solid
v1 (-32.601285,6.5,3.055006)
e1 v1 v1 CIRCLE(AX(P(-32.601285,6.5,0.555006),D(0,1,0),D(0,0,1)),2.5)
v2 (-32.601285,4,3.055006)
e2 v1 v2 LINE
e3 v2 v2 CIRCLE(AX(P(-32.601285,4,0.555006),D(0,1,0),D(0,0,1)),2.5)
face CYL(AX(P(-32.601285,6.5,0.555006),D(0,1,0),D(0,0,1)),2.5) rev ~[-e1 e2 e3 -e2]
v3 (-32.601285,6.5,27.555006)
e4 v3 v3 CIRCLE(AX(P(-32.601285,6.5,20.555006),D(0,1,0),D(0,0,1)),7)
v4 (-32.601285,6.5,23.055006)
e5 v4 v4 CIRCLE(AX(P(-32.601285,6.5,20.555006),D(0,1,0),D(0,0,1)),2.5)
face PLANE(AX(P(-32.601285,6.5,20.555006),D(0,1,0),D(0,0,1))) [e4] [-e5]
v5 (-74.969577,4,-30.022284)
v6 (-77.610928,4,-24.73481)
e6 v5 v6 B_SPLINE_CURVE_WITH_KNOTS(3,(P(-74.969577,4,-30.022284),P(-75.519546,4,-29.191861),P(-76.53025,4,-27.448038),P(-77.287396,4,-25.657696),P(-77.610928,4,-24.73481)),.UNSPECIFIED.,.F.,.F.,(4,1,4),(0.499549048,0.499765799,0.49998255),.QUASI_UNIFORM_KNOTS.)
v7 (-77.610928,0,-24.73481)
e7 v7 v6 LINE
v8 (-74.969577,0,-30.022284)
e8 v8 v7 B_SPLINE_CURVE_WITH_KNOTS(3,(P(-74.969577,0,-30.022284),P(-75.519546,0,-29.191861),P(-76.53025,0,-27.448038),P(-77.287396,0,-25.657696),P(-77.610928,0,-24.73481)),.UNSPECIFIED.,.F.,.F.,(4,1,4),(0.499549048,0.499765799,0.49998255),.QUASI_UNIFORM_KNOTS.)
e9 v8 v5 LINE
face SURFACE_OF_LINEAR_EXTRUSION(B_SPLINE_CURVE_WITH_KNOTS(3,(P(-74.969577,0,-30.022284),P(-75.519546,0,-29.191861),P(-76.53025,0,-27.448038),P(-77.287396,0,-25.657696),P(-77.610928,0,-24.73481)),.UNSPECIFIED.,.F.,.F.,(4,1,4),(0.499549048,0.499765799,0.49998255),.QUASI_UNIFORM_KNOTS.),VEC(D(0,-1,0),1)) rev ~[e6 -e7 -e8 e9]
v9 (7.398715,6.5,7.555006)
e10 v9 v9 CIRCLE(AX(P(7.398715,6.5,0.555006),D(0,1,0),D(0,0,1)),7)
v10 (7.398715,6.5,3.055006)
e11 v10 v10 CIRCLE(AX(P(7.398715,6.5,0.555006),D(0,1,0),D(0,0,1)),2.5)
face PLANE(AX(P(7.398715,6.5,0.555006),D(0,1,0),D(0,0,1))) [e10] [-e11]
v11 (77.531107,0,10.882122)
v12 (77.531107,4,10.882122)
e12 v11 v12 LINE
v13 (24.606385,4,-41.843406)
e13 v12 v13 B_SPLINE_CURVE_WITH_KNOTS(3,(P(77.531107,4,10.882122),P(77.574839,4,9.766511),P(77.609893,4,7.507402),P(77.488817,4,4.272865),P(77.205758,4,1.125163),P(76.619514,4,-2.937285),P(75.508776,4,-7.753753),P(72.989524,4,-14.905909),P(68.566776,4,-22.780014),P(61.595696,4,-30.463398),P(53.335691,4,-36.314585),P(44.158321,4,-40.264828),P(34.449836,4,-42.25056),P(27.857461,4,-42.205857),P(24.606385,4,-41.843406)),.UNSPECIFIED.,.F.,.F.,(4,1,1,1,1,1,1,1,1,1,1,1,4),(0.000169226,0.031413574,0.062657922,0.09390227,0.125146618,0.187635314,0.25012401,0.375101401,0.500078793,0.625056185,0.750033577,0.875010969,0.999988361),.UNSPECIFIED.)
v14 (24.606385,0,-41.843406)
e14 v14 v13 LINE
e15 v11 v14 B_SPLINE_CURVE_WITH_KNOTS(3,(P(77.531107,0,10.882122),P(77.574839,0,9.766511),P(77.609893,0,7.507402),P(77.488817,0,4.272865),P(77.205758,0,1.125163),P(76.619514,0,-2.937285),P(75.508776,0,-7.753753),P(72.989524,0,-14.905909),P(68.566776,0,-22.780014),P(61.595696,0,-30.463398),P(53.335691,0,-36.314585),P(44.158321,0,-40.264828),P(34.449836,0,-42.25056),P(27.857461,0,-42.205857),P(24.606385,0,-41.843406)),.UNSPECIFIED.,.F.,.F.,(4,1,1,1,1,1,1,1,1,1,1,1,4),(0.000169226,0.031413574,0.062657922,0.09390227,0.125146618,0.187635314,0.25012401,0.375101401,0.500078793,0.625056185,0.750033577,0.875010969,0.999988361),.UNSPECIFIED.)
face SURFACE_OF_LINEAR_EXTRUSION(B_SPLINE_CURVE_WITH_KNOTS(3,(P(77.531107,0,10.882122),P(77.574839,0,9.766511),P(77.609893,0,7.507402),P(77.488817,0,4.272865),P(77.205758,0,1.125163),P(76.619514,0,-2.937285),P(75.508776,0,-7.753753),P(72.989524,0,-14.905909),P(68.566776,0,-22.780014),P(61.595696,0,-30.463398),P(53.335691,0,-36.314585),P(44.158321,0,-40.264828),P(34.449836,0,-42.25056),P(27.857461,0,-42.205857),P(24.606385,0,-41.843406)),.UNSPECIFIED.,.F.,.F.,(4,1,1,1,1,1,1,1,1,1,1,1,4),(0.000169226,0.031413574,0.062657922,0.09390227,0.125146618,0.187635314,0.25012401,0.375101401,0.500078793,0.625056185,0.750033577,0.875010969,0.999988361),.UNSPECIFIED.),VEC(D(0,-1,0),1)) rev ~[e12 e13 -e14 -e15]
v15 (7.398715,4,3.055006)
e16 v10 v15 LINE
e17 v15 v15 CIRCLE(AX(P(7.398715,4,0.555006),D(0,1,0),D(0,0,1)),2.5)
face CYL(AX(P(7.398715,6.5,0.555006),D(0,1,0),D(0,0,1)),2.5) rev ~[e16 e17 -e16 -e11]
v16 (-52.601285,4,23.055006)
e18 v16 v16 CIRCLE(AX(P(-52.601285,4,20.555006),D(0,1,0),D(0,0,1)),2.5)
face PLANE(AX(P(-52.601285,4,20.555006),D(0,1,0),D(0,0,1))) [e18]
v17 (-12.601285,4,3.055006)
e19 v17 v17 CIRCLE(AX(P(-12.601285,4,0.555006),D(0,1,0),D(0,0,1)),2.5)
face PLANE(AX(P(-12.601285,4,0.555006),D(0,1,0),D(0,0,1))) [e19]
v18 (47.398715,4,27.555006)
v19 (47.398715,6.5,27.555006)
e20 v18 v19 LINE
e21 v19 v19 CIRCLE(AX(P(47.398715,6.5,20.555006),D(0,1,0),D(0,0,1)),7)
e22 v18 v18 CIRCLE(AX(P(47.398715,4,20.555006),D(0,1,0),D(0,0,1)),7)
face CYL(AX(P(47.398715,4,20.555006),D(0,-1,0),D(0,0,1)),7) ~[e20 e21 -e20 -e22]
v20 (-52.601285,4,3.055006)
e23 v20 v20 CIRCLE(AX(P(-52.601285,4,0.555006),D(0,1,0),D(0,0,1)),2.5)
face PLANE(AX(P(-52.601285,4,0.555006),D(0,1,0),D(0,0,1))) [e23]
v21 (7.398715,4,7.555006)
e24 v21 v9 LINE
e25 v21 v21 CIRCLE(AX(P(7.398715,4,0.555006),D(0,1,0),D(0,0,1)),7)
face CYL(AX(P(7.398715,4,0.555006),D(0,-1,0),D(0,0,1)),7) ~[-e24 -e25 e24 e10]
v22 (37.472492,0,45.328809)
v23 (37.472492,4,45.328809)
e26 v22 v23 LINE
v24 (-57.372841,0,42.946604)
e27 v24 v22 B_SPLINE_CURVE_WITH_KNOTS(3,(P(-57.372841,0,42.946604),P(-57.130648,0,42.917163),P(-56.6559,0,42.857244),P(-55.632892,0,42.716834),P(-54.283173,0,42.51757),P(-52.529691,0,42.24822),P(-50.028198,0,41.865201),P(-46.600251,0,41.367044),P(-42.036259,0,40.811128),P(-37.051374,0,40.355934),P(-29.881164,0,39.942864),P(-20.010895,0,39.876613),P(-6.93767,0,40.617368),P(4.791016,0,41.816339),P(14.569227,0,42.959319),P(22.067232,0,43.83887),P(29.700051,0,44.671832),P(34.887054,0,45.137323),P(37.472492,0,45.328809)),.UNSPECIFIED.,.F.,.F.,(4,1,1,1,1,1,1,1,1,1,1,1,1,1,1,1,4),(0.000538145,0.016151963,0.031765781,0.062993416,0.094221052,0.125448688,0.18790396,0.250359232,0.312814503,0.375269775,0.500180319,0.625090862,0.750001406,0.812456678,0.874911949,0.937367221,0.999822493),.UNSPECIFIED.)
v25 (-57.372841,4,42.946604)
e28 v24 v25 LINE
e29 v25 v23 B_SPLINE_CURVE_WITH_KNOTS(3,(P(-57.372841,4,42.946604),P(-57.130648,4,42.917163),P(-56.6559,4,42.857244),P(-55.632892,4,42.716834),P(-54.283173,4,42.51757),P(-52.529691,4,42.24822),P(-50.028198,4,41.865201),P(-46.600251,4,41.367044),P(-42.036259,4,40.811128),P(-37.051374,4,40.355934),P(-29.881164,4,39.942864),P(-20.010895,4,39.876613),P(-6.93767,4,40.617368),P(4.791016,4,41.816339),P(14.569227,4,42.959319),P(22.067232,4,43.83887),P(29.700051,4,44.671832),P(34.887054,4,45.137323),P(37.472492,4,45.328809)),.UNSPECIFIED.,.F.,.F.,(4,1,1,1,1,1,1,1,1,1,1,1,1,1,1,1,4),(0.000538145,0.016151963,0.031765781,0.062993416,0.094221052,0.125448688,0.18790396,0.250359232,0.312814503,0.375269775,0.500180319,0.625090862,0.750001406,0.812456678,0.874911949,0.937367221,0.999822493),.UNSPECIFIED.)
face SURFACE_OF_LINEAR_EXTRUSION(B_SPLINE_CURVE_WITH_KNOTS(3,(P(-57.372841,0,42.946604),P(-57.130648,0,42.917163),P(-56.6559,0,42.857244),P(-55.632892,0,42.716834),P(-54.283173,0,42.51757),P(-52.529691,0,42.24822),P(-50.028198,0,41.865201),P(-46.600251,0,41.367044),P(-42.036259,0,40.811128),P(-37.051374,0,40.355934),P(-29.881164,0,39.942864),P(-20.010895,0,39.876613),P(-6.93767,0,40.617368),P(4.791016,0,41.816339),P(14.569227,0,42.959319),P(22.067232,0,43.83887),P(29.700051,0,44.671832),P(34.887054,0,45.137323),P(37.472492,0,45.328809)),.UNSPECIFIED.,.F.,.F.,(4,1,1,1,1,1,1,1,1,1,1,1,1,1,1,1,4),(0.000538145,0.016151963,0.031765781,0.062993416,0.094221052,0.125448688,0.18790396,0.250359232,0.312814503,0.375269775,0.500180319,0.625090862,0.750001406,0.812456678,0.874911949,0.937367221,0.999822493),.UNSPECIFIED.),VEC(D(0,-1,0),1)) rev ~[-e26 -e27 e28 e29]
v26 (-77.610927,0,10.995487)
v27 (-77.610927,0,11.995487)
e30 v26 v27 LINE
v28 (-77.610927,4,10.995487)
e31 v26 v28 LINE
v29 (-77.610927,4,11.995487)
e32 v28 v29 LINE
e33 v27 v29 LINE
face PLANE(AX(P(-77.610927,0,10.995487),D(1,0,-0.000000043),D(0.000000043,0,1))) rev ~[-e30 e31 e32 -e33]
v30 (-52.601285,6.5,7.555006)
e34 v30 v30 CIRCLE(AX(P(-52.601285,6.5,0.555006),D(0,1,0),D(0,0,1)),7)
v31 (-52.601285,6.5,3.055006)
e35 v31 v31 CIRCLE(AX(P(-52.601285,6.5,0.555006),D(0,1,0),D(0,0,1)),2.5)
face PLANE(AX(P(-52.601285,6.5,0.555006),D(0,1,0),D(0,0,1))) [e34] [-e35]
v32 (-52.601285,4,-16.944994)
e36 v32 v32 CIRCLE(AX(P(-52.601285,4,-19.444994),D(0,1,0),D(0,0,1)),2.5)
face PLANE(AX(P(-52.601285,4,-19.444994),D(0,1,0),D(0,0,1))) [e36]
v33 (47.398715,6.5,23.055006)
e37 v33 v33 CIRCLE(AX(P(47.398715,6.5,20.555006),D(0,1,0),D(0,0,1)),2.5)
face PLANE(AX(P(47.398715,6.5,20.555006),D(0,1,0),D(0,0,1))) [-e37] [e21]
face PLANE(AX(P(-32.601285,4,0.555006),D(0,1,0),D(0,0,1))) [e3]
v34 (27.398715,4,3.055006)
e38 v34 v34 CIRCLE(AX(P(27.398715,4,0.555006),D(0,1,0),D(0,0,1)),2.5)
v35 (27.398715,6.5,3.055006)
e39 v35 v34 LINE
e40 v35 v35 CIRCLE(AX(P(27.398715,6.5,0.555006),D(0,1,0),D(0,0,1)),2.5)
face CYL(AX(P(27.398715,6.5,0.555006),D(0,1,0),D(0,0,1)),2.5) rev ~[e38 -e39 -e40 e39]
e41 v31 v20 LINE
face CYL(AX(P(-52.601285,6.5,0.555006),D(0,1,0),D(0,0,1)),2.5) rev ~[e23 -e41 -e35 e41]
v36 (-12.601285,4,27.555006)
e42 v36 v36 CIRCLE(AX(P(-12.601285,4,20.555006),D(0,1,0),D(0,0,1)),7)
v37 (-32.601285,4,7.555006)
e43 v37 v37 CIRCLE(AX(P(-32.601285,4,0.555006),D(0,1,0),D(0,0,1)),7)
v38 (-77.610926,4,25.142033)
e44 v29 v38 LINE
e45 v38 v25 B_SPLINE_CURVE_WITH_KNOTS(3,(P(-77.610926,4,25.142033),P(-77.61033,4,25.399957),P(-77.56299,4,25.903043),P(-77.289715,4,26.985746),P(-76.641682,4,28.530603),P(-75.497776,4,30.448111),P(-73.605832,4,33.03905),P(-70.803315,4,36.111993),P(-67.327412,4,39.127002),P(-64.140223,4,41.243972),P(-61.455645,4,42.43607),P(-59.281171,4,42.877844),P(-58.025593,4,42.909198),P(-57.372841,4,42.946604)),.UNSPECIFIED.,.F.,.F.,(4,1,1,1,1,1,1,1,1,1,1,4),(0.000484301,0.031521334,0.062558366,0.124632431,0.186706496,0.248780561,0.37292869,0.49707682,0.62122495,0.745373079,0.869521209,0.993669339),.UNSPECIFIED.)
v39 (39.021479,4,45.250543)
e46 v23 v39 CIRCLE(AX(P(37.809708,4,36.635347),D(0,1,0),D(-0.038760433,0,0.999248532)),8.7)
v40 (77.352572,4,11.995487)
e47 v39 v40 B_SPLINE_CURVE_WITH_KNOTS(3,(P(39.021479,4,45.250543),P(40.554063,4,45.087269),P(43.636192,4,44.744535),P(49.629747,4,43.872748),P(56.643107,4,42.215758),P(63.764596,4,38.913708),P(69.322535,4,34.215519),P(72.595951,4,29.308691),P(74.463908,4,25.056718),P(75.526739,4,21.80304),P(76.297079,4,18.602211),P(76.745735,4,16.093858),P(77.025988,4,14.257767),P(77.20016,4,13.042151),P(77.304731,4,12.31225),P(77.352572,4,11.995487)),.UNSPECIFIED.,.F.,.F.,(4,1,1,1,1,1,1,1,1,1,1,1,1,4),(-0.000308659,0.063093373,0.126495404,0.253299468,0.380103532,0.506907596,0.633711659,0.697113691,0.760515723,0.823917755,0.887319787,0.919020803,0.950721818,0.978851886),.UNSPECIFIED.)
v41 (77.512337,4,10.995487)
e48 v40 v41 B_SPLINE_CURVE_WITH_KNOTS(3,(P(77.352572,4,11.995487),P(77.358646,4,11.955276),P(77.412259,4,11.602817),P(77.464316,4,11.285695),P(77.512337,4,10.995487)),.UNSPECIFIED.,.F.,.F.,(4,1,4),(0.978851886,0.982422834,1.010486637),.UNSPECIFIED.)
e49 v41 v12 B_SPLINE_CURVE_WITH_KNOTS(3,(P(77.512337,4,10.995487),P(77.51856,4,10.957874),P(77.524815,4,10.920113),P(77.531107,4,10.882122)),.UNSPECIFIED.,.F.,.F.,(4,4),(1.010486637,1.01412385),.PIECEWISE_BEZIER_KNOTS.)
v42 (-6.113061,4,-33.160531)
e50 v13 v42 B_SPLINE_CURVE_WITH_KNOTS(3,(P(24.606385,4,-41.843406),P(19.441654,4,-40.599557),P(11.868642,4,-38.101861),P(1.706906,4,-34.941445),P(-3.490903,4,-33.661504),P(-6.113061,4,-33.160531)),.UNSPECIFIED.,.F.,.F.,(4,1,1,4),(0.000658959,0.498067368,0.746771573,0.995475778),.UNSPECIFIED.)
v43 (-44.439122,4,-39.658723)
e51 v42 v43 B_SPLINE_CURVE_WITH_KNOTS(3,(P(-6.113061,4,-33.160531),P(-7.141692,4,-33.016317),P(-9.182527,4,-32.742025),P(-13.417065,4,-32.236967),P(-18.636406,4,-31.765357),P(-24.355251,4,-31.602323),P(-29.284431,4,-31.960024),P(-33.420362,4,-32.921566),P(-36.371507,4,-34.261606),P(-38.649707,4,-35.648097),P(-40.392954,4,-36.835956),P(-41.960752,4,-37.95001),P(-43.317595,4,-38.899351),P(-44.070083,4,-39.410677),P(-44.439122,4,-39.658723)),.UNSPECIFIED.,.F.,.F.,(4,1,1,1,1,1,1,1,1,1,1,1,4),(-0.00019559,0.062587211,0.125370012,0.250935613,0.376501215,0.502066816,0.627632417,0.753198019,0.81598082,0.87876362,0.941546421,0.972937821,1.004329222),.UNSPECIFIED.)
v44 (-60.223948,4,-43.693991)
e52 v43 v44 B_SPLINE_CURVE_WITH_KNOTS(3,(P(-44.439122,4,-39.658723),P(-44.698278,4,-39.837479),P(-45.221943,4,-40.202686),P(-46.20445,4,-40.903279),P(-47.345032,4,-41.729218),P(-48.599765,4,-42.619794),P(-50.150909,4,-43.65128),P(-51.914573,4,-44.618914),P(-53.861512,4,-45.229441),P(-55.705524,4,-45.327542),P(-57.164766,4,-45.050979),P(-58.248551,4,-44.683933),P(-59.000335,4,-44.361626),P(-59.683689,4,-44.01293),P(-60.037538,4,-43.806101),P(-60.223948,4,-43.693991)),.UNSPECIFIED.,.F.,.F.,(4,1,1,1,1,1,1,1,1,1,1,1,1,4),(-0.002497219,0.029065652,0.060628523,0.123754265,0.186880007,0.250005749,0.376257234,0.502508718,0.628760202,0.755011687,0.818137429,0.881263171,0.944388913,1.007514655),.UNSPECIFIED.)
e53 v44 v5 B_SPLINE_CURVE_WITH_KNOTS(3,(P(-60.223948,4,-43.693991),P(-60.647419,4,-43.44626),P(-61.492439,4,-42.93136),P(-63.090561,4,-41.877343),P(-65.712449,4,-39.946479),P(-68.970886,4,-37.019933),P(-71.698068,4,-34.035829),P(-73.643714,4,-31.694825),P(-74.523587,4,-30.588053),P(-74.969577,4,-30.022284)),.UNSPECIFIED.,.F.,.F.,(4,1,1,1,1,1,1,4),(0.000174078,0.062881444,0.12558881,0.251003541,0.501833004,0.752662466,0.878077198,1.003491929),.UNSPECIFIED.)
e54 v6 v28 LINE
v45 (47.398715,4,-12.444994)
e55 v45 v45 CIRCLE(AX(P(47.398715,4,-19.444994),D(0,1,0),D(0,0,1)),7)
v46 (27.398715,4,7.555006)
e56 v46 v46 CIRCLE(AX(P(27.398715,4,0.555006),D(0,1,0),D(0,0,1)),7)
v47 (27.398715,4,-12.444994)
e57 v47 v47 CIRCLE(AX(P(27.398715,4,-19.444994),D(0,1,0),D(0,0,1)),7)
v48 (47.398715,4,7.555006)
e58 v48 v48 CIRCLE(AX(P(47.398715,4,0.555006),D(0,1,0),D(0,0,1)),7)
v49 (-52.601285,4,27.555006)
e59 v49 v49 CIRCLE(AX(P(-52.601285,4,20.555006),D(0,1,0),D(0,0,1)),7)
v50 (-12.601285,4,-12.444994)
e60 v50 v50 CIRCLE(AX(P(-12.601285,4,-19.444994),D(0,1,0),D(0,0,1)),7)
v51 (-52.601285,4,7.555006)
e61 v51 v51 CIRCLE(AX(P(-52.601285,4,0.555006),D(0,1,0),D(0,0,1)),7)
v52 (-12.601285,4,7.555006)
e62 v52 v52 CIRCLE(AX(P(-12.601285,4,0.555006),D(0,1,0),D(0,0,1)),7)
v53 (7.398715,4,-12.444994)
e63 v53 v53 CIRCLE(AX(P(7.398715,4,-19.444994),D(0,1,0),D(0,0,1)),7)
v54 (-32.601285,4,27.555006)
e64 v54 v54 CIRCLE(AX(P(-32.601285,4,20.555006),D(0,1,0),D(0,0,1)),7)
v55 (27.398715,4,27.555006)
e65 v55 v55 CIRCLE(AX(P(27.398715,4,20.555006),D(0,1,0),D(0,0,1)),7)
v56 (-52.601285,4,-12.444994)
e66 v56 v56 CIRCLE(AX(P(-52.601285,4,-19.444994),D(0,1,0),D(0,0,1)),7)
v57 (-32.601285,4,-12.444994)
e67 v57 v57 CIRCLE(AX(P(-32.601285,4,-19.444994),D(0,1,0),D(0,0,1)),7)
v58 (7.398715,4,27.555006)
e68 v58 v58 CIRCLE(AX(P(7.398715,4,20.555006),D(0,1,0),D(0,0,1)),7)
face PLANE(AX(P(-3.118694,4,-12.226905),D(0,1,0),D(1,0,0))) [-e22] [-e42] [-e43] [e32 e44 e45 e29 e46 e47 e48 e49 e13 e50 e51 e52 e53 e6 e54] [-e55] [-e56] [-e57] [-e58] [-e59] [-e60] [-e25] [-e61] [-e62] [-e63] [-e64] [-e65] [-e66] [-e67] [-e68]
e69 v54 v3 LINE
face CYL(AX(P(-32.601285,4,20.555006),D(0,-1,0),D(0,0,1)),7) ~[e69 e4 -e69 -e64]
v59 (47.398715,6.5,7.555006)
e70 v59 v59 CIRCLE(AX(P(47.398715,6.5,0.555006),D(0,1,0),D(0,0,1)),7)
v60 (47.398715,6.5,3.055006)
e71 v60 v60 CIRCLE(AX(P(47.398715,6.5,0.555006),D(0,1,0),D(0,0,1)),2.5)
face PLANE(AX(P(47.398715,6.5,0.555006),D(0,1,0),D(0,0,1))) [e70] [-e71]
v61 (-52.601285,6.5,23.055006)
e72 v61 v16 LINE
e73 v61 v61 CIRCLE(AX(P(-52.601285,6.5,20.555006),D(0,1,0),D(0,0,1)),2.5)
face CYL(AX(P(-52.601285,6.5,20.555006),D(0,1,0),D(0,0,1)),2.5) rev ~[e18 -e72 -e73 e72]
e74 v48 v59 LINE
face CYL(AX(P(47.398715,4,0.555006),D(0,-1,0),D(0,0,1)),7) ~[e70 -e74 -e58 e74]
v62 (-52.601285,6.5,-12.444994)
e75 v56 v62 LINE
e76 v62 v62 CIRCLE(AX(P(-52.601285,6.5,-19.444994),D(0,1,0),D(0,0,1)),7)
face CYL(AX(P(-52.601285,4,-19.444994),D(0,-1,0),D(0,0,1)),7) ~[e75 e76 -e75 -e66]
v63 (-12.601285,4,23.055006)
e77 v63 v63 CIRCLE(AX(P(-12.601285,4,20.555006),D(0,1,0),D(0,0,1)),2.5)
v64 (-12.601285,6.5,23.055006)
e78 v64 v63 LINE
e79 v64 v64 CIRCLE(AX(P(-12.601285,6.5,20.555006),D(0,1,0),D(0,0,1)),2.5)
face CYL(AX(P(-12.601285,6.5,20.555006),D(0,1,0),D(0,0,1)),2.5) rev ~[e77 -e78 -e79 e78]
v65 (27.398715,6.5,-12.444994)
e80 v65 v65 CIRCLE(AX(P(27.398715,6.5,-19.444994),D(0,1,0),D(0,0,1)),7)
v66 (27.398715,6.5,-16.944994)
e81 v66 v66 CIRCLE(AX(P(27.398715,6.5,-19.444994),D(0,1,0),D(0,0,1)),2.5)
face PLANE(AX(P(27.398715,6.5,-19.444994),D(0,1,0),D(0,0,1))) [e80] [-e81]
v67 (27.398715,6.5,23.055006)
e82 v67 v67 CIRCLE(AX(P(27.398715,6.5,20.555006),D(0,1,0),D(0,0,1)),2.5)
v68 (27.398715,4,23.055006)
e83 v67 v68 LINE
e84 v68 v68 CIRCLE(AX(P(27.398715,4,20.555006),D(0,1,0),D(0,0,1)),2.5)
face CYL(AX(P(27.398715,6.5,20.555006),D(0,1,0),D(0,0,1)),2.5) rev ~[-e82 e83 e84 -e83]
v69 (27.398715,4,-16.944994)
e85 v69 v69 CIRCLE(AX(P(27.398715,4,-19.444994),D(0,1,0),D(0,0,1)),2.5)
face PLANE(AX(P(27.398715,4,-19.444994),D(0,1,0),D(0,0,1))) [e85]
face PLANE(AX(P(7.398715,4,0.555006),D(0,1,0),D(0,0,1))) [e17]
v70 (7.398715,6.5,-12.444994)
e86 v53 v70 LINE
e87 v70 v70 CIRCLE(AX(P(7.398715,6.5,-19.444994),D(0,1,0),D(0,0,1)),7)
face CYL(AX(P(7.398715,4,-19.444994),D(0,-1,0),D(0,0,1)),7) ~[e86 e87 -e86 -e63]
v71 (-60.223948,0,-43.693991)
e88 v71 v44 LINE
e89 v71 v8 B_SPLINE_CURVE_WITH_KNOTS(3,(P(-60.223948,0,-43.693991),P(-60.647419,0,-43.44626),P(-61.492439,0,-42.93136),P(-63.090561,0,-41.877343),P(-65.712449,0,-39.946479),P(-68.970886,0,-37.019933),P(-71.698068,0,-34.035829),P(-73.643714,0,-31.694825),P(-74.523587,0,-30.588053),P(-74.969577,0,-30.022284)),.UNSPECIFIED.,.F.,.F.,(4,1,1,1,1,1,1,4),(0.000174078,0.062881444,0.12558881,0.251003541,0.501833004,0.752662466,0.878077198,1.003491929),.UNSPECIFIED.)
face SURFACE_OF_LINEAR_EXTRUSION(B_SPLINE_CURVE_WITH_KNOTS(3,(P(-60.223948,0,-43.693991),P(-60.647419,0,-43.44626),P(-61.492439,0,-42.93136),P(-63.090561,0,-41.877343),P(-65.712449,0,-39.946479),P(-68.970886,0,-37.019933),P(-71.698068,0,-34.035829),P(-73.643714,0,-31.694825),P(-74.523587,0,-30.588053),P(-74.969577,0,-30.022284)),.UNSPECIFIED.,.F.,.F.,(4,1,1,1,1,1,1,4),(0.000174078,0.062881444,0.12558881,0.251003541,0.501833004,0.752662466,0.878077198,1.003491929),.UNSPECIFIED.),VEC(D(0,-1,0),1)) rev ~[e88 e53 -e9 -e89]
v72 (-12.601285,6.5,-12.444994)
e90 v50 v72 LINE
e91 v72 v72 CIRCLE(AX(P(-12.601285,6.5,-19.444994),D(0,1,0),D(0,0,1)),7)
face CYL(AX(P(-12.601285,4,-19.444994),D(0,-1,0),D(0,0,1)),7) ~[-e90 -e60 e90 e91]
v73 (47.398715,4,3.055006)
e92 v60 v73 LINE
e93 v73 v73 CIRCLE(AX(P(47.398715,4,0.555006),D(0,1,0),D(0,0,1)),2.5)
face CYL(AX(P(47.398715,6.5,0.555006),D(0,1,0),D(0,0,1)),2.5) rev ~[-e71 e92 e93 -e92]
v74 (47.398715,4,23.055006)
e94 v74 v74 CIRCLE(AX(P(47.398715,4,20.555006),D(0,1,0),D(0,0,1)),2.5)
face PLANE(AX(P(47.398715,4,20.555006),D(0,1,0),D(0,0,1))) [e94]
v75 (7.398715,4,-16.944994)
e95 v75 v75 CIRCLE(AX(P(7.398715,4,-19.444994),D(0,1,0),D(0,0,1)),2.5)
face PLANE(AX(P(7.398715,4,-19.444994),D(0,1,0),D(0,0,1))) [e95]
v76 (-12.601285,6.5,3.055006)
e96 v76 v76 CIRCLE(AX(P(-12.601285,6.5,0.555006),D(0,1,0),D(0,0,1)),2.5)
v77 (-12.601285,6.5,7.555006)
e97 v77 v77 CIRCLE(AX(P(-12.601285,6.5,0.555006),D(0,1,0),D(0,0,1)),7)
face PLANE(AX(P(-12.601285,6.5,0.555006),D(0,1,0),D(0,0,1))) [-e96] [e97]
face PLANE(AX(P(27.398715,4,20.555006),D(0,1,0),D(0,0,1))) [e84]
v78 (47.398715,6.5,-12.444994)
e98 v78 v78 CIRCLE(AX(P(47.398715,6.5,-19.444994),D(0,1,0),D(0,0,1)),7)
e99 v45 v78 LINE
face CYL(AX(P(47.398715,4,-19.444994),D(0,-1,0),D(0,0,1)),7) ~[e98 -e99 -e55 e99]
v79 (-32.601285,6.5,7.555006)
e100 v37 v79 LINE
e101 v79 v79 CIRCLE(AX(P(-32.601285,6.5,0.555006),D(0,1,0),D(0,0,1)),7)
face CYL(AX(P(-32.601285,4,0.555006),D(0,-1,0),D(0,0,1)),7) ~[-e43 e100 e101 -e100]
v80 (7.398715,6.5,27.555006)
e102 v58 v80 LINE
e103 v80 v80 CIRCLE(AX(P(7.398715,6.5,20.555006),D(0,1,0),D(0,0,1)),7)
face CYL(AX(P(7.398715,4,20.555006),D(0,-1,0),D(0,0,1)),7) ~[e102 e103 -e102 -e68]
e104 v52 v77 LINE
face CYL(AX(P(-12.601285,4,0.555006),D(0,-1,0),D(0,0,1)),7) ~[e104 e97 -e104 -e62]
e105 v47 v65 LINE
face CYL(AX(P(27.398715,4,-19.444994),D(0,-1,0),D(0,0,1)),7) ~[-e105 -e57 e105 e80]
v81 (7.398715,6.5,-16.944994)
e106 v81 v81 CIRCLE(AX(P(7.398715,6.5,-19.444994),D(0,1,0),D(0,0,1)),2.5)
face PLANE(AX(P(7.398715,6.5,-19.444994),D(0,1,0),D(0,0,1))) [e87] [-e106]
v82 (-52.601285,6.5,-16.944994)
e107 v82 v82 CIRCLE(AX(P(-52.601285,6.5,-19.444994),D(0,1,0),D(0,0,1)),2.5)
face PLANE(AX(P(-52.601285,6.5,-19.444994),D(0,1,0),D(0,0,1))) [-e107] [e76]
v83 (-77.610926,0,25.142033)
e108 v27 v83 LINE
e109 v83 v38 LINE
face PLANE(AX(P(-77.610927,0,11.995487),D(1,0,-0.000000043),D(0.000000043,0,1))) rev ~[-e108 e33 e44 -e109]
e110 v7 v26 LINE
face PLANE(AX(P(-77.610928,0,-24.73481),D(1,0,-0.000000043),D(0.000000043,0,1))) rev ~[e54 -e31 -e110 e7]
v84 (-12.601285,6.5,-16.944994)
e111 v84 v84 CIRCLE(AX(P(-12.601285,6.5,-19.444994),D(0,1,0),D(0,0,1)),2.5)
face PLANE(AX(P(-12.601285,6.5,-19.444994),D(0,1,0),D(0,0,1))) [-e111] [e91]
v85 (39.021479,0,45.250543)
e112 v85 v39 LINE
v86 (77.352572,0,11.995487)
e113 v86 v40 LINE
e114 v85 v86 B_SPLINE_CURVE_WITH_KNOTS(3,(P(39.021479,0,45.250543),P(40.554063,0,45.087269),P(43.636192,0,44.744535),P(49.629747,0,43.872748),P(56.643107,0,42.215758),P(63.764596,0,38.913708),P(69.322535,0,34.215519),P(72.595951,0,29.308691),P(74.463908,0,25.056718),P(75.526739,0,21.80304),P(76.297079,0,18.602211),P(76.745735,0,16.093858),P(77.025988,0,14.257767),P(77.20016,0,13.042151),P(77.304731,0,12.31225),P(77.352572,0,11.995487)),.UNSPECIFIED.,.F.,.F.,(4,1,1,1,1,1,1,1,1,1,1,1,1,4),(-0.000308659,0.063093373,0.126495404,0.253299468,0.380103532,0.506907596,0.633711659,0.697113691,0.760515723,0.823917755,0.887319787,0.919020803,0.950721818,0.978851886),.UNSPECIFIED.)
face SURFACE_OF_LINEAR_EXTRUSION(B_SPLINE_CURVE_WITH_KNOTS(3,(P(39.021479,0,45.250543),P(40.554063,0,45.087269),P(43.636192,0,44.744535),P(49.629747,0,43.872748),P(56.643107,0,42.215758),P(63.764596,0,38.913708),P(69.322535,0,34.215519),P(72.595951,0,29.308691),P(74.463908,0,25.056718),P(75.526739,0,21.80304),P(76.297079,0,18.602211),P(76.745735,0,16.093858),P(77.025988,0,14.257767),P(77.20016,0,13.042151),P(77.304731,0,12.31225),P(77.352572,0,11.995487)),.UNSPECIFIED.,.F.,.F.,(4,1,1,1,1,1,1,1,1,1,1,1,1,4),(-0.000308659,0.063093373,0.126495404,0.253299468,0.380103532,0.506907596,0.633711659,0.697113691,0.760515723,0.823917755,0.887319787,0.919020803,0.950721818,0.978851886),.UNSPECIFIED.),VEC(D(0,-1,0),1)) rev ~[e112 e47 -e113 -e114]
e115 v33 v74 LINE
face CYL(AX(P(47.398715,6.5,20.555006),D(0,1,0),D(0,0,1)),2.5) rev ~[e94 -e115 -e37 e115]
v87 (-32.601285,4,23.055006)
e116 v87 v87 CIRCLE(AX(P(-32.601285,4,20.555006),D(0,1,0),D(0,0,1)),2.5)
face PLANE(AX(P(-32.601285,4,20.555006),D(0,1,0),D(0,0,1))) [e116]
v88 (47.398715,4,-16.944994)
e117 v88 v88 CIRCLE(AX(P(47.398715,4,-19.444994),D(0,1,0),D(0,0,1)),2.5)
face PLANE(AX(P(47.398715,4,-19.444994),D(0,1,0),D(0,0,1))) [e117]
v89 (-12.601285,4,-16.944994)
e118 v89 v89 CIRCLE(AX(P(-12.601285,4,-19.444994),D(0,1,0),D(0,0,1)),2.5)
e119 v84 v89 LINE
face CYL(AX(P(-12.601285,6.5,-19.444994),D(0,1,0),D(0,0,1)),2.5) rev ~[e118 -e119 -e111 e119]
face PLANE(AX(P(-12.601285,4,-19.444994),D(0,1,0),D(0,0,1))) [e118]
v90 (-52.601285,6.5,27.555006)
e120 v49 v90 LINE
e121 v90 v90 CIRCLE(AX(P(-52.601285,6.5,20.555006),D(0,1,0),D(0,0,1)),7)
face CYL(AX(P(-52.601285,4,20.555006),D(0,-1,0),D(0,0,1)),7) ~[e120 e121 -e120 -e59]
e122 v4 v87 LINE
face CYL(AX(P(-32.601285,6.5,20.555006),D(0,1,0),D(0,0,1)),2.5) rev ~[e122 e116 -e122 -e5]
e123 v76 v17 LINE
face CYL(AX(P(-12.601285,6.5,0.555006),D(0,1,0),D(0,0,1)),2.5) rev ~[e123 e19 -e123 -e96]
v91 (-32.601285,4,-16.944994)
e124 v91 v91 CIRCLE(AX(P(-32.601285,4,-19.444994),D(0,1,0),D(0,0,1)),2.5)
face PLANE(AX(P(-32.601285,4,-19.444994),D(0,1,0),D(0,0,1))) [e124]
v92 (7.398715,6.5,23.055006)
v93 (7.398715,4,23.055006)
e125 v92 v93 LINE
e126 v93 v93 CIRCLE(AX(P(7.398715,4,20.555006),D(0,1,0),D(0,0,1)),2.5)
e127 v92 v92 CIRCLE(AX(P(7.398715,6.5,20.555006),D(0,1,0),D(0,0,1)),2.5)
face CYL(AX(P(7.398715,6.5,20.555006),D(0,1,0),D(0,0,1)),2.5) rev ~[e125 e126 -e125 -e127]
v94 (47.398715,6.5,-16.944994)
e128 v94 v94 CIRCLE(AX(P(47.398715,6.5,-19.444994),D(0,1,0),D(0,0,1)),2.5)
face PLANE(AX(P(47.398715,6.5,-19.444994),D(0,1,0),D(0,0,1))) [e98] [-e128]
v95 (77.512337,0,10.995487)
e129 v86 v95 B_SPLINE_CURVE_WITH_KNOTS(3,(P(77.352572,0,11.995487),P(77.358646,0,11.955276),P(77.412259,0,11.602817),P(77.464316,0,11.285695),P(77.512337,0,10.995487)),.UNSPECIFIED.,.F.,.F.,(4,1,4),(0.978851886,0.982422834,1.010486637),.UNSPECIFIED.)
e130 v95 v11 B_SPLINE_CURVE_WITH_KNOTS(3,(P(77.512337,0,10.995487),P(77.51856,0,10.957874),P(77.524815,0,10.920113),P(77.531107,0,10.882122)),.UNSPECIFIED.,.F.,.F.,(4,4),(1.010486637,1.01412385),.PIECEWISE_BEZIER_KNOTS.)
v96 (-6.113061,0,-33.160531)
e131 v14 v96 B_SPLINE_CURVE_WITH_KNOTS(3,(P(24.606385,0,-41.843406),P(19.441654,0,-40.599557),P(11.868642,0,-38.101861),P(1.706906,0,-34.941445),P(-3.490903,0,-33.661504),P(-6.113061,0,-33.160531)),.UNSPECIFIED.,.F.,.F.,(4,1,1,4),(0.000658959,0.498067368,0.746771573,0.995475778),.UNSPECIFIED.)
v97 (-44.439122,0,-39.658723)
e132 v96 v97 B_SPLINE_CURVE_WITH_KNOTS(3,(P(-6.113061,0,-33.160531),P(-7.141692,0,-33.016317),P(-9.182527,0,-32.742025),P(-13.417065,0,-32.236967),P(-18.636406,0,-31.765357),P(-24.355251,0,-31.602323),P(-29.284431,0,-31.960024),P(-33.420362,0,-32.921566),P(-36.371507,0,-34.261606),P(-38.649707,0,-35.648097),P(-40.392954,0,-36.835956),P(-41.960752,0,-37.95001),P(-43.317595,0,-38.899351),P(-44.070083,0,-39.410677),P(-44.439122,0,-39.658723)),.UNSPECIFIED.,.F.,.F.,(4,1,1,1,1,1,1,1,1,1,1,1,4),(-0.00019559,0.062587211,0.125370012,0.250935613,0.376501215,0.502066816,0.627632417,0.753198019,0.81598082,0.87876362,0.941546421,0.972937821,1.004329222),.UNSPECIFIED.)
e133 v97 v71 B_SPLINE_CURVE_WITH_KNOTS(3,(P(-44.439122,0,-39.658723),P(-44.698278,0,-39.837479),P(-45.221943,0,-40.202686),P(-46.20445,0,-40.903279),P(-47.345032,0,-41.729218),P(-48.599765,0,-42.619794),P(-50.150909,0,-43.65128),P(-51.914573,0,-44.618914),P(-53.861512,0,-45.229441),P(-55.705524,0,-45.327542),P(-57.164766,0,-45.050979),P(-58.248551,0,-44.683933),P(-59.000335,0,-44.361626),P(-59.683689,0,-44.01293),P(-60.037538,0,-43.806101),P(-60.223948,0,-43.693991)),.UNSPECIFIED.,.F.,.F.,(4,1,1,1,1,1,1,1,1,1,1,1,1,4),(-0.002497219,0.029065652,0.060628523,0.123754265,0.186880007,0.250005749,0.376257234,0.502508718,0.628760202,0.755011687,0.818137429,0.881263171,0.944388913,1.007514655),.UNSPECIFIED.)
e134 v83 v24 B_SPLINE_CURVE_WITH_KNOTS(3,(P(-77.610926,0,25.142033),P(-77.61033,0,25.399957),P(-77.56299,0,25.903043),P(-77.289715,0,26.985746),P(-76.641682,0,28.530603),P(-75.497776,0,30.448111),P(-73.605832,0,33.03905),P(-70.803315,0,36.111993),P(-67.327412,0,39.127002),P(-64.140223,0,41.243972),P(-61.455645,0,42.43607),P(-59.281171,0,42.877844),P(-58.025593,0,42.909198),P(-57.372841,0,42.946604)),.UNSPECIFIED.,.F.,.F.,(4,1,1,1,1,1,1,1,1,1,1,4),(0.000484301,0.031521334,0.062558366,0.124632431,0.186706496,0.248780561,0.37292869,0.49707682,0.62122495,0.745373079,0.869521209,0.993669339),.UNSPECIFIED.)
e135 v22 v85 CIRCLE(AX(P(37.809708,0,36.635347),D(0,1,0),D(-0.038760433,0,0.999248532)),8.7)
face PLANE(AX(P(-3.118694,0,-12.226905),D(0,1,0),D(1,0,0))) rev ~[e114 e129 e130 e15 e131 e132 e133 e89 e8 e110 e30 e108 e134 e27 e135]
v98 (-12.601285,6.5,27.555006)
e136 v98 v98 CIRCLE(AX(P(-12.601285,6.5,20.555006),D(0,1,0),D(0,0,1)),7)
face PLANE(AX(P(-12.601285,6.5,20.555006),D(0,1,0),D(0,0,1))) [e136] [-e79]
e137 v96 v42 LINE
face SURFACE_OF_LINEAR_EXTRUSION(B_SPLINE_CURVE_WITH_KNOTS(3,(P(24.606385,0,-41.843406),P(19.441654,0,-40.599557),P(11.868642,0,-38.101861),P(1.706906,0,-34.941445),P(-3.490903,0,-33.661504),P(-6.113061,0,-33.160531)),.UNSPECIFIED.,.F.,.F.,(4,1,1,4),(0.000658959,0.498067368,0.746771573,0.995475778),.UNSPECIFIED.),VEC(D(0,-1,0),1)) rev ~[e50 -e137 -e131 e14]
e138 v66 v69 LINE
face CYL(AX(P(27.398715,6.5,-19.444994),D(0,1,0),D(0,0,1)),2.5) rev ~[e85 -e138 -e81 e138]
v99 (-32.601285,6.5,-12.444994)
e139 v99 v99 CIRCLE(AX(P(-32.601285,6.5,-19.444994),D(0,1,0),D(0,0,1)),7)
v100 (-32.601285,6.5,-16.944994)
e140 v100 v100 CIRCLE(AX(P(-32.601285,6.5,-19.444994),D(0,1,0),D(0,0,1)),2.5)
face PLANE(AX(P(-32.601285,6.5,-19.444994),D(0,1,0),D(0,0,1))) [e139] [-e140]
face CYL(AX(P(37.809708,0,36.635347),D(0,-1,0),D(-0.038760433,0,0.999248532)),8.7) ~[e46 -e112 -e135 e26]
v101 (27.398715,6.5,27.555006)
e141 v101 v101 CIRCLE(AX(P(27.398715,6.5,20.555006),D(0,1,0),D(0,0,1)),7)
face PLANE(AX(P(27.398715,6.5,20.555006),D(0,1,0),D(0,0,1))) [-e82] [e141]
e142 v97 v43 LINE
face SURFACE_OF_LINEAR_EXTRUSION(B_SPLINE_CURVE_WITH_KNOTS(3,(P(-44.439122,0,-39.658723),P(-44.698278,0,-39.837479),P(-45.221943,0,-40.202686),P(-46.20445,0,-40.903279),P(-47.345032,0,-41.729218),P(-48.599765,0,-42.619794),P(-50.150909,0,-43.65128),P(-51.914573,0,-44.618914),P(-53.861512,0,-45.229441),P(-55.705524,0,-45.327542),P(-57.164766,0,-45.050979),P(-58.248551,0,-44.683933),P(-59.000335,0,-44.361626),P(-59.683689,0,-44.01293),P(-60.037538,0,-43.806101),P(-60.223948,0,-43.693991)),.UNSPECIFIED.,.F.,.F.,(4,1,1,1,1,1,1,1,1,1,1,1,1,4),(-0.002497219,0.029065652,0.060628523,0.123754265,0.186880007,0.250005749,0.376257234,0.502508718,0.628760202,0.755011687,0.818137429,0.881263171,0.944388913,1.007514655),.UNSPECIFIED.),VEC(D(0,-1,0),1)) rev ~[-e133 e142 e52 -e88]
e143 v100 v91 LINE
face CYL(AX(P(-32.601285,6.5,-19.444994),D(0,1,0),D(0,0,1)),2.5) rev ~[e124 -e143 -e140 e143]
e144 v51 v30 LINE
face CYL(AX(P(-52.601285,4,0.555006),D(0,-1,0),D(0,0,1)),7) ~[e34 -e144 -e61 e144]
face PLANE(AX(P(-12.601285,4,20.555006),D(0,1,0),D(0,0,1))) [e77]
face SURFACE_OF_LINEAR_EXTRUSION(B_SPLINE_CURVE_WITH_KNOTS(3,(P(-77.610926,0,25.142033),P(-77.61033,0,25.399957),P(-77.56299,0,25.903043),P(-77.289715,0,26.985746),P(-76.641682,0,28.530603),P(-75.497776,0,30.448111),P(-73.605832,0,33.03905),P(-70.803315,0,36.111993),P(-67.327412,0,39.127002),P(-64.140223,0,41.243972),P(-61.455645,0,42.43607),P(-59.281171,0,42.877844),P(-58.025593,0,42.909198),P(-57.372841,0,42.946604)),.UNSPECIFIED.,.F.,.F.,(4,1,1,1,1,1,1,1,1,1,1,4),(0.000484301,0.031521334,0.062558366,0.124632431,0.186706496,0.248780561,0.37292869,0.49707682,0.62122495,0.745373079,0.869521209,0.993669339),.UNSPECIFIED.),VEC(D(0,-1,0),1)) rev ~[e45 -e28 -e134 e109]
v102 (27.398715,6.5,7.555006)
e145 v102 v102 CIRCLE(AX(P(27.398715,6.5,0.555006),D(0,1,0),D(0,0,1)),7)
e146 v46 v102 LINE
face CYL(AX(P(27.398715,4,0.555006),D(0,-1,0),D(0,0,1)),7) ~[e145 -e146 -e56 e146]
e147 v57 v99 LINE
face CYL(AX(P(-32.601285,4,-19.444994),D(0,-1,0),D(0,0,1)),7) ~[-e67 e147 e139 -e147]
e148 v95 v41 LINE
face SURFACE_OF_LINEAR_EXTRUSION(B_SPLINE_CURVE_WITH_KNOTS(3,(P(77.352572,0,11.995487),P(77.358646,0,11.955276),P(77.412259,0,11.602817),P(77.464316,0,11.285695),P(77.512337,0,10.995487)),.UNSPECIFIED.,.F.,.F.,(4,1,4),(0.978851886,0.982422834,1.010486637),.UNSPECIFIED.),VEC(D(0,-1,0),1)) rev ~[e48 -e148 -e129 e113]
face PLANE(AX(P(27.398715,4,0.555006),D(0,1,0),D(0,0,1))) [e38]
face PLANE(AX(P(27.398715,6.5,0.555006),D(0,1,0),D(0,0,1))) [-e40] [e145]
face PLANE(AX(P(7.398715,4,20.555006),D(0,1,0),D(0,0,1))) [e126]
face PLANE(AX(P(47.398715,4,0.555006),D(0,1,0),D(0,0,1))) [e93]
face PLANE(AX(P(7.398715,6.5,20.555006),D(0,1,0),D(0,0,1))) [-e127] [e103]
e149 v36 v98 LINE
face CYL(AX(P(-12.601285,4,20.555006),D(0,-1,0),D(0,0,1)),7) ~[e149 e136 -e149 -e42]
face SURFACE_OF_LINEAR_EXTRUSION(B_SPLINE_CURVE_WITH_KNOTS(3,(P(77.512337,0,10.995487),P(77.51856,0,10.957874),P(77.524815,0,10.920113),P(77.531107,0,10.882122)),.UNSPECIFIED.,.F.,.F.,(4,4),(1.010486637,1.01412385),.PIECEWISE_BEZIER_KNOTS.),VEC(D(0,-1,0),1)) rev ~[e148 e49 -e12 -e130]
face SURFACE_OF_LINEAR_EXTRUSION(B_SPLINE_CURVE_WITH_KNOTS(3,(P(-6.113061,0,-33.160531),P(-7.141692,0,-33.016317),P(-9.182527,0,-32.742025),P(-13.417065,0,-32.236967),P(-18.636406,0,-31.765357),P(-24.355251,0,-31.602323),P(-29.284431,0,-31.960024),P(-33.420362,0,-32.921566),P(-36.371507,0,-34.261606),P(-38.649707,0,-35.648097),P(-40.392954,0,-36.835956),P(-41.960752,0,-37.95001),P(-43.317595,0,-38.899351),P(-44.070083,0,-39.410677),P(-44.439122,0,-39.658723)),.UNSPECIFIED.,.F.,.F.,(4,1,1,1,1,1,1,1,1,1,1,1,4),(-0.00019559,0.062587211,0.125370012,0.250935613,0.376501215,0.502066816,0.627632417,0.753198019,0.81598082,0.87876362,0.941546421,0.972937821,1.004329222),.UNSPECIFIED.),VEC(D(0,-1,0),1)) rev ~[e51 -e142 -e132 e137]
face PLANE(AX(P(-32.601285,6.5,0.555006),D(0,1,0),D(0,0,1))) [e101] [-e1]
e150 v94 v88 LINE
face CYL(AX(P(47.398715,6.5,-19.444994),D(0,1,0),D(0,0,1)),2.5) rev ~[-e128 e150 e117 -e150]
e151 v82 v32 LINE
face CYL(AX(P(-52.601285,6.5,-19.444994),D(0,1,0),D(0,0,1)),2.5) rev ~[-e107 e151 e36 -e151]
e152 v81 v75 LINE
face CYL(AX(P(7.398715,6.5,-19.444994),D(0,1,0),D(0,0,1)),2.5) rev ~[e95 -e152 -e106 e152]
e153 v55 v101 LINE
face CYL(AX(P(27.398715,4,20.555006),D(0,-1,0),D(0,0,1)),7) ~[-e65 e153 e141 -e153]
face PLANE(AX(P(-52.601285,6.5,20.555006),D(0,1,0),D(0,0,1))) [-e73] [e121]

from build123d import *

# Parameters (mm, degrees)
BOSS_EXTRUDE2_DEPTH  = 4
SKETCH2_R            = 7
BOSS_EXTRUDE3_DEPTH  = 2.5
SKETCH4_R            = 2.5
CUT_EXTRUDE1_DEPTH   = 2.5
LPATTERN1_COUNT      = 3
LPATTERN1_PITCH      = 20
LPATTERN1_COUNT_DIR2 = 6
LPATTERN1_PITCH_DIR2 = 20


with BuildPart() as part:
    # Sketch1 → Boss-Extrude2 (new body)
    with BuildSketch(Plane(origin=(0, 0, 0), x_dir=(1, 0, 0), z_dir=(0, 1, 0))):
        with BuildLine():
            Line((-77.610928287, 24.73480995), (-77.610926739, -10.995486899))
            Line((-77.610926739, -10.995486899), (77.512336703, -10.995486899))
            add(Edge.make_bspline(
                [(77.512336703, -10.995486899), (77.518560385, -10.957874405), (77.524814965, -10.920112686), (77.531107112, -10.882121857)],
                knots=[1.010486637, 1.010486637, 1.010486637, 1.010486637, 1.01412385, 1.01412385, 1.01412385, 1.01412385], degree=3))
            add(Edge.make_bspline(
                [(77.531107112, -10.882121857), (77.574839436, -9.766511083), (77.609892635, -7.507402328), (77.488817492, -4.272864758), (77.205757806, -1.125162749), (76.619514408, 2.937285367), (75.50877626, 7.753752623), (72.989524017, 14.905909338), (68.566776195, 22.780014071), (61.595696469, 30.463398286), (53.335691478, 36.314584962), (44.158321293, 40.264828436), (34.449835996, 42.250559646), (27.85746121, 42.205857253), (24.60638519, 41.843406408)],
                knots=[0.000169226, 0.000169226, 0.000169226, 0.000169226, 0.031413574, 0.062657922, 0.09390227, 0.125146618, 0.187635314, 0.25012401, 0.375101401, 0.500078793, 0.625056185, 0.750033577, 0.875010969, 0.999988361, 0.999988361, 0.999988361, 0.999988361], degree=3))
            add(Edge.make_bspline(
                [(24.60638519, 41.843406408), (19.441654305, 40.599557497), (11.868641969, 38.10186056), (1.706905963, 34.941445063), (-3.490903085, 33.661503777), (-6.113060784, 33.160531214)],
                knots=[0.000658959, 0.000658959, 0.000658959, 0.000658959, 0.498067368, 0.746771573, 0.995475778, 0.995475778, 0.995475778, 0.995475778], degree=3))
            add(Edge.make_bspline(
                [(-6.113060784, 33.160531214), (-7.141691771, 33.016316508), (-9.182526978, 32.742024746), (-13.41706461, 32.236967498), (-18.636406478, 31.76535684), (-24.35525076, 31.602322531), (-29.284430774, 31.960023989), (-33.420361612, 32.921566077), (-36.371506688, 34.261606006), (-38.649706949, 35.648097323), (-40.392953753, 36.835956096), (-41.960752384, 37.950009586), (-43.317594841, 38.899351268), (-44.070083407, 39.410677407), (-44.439121999, 39.658722592)],
                knots=[-0.00019559, -0.00019559, -0.00019559, -0.00019559, 0.062587211, 0.125370012, 0.250935613, 0.376501215, 0.502066816, 0.627632417, 0.753198019, 0.81598082, 0.87876362, 0.941546421, 0.972937821, 1.004329222, 1.004329222, 1.004329222, 1.004329222], degree=3))
            add(Edge.make_bspline(
                [(-44.439121999, 39.658722592), (-44.698278493, 39.837478936), (-45.221943057, 40.202686415), (-46.204449693, 40.903278583), (-47.345032131, 41.729218311), (-48.599765224, 42.619793879), (-50.15090873, 43.651280208), (-51.914572875, 44.618913698), (-53.861511808, 45.22944075), (-55.705524128, 45.327541985), (-57.164765963, 45.050979151), (-58.248551256, 44.683932663), (-59.000335406, 44.361625817), (-59.68368912, 44.01293032), (-60.037538284, 43.806100934), (-60.223947924, 43.693990747)],
                knots=[-0.002497219, -0.002497219, -0.002497219, -0.002497219, 0.029065652, 0.060628523, 0.123754265, 0.186880007, 0.250005749, 0.376257234, 0.502508718, 0.628760202, 0.755011687, 0.818137429, 0.881263171, 0.944388913, 1.007514655, 1.007514655, 1.007514655, 1.007514655], degree=3))
            add(Edge.make_bspline(
                [(-60.223947924, 43.693990747), (-60.647418813, 43.446259773), (-61.492438659, 42.931359573), (-63.090560833, 41.877343183), (-65.712449046, 39.946479206), (-68.970886279, 37.019932698), (-71.698068002, 34.035828956), (-73.643714468, 31.694824796), (-74.523586793, 30.588052824), (-74.969576783, 30.022283972)],
                knots=[0.000174078, 0.000174078, 0.000174078, 0.000174078, 0.062881444, 0.12558881, 0.251003541, 0.501833004, 0.752662466, 0.878077198, 1.003491929, 1.003491929, 1.003491929, 1.003491929], degree=3))
            add(Edge.make_bspline(
                [(-74.969576783, 30.022283972), (-75.519545883, 29.19186114), (-76.530249869, 27.448037515), (-77.287396087, 25.657695857), (-77.610928287, 24.73480995)],
                knots=[0.499549048, 0.499549048, 0.499549048, 0.499549048, 0.499765799, 0.49998255, 0.49998255, 0.49998255, 0.49998255], degree=3))
        make_face()
        with BuildLine():
            Line((77.512336703, -10.995486899), (-77.610926739, -10.995486899))
            Line((-77.610926739, -10.995486899), (-77.610926696, -11.995486899))
            Line((-77.610926696, -11.995486899), (77.352572442, -11.995486899))
            add(Edge.make_bspline(
                [(77.352572442, -11.995486899), (77.358645684, -11.955275612), (77.412259186, -11.602816601), (77.464316371, -11.285695229), (77.512336703, -10.995486899)],
                knots=[0.978851886, 0.978851886, 0.978851886, 0.978851886, 0.982422834, 1.010486637, 1.010486637, 1.010486637, 1.010486637], degree=3))
        make_face()
        with BuildLine():
            Line((77.352572442, -11.995486899), (-77.610926696, -11.995486899))
            Line((-77.610926696, -11.995486899), (-77.610926126, -25.14203309))
            add(Edge.make_bspline(
                [(-77.610926126, -25.14203309), (-77.610329581, -25.399956565), (-77.56299042, -25.903042711), (-77.289715127, -26.985745976), (-76.641681648, -28.530602527), (-75.497775654, -30.448110961), (-73.605831916, -33.039049782), (-70.803315368, -36.111993436), (-67.327412016, -39.127002194), (-64.140223394, -41.243972104), (-61.455644843, -42.436069514), (-59.281170991, -42.877843858), (-58.025592683, -42.909198362), (-57.3728408, -42.946603583)],
                knots=[0.000484301, 0.000484301, 0.000484301, 0.000484301, 0.031521334, 0.062558366, 0.124632431, 0.186706496, 0.248780561, 0.37292869, 0.49707682, 0.62122495, 0.745373079, 0.869521209, 0.993669339, 0.993669339, 0.993669339, 0.993669339], degree=3))
            add(Edge.make_bspline(
                [(-57.3728408, -42.946603583), (-57.13064829, -42.917162583), (-56.655899826, -42.857244252), (-55.632891969, -42.716833971), (-54.283173397, -42.517569574), (-52.529691334, -42.248220025), (-50.028198289, -41.865201142), (-46.600250729, -41.367044153), (-42.036258597, -40.811127611), (-37.051373779, -40.355934431), (-29.881163552, -39.94286355), (-20.010895236, -39.876612938), (-6.937670032, -40.617368244), (4.79101559, -41.816338855), (14.569227449, -42.959318591), (22.067232439, -43.838869966), (29.700051426, -44.671831852), (34.887053568, -45.137323321), (37.472492496, -45.32880882)],
                knots=[0.000538145, 0.000538145, 0.000538145, 0.000538145, 0.016151963, 0.031765781, 0.062993416, 0.094221052, 0.125448688, 0.18790396, 0.250359232, 0.312814503, 0.375269775, 0.500180319, 0.625090862, 0.750001406, 0.812456678, 0.874911949, 0.937367221, 0.999822493, 0.999822493, 0.999822493, 0.999822493], degree=3))
            ThreePointArc((37.472492496, -45.32880882), (38.248733412, -45.324262341), (39.021479233, -45.250543112))
            add(Edge.make_bspline(
                [(39.021479233, -45.250543112), (40.554063275, -45.087269156), (43.636191946, -44.744534775), (49.629747374, -43.872748427), (56.64310661, -42.215757501), (63.76459646, -38.913707507), (69.322535256, -34.215518596), (72.595951354, -29.308690908), (74.463908277, -25.056718438), (75.526739474, -21.803040338), (76.297079472, -18.602211114), (76.745734786, -16.093857572), (77.025988143, -14.25776708), (77.200159766, -13.042150967), (77.304730613, -12.312250405), (77.352572442, -11.995486899)],
                knots=[-0.000308659, -0.000308659, -0.000308659, -0.000308659, 0.063093373, 0.126495404, 0.253299468, 0.380103532, 0.506907596, 0.633711659, 0.697113691, 0.760515723, 0.823917755, 0.887319787, 0.919020803, 0.950721818, 0.978851886, 0.978851886, 0.978851886, 0.978851886], degree=3))
        make_face()
    extrude(amount=BOSS_EXTRUDE2_DEPTH)

    # Sketch2 → Boss-Extrude3 (add)
    with BuildSketch(Plane(origin=(0, 4, 0), x_dir=(1, 0, 0), z_dir=(0, 1, 0))):
        with Locations(Location((-52.601285046, 19.444993701, 0), (0, 0, 270))):
            Circle(SKETCH2_R)
    boss_extrude3 = extrude(amount=BOSS_EXTRUDE3_DEPTH)

    # Sketch4 → Cut-Extrude1 (cut)
    with BuildSketch(Plane(origin=(0, 6.5, 0), x_dir=(1, 0, 0), z_dir=(0, 1, 0))):
        with Locations(Location((-52.601285046, 19.444993701, 0), (0, 0, 270))):
            Circle(SKETCH4_R)
    cut_extrude1 = extrude(amount=-CUT_EXTRUDE1_DEPTH, mode=Mode.SUBTRACT)

    # LPattern1: Boss-Extrude3, Cut-Extrude1 3 × 6
    with Locations(*[(j * LPATTERN1_PITCH_DIR2, 0, i * LPATTERN1_PITCH) for i in range(LPATTERN1_COUNT) for j in range(LPATTERN1_COUNT_DIR2) if (i, j) != (0, 0)]):
        add(boss_extrude3)
        add(cut_extrude1, mode=Mode.SUBTRACT)


solid = part.part
